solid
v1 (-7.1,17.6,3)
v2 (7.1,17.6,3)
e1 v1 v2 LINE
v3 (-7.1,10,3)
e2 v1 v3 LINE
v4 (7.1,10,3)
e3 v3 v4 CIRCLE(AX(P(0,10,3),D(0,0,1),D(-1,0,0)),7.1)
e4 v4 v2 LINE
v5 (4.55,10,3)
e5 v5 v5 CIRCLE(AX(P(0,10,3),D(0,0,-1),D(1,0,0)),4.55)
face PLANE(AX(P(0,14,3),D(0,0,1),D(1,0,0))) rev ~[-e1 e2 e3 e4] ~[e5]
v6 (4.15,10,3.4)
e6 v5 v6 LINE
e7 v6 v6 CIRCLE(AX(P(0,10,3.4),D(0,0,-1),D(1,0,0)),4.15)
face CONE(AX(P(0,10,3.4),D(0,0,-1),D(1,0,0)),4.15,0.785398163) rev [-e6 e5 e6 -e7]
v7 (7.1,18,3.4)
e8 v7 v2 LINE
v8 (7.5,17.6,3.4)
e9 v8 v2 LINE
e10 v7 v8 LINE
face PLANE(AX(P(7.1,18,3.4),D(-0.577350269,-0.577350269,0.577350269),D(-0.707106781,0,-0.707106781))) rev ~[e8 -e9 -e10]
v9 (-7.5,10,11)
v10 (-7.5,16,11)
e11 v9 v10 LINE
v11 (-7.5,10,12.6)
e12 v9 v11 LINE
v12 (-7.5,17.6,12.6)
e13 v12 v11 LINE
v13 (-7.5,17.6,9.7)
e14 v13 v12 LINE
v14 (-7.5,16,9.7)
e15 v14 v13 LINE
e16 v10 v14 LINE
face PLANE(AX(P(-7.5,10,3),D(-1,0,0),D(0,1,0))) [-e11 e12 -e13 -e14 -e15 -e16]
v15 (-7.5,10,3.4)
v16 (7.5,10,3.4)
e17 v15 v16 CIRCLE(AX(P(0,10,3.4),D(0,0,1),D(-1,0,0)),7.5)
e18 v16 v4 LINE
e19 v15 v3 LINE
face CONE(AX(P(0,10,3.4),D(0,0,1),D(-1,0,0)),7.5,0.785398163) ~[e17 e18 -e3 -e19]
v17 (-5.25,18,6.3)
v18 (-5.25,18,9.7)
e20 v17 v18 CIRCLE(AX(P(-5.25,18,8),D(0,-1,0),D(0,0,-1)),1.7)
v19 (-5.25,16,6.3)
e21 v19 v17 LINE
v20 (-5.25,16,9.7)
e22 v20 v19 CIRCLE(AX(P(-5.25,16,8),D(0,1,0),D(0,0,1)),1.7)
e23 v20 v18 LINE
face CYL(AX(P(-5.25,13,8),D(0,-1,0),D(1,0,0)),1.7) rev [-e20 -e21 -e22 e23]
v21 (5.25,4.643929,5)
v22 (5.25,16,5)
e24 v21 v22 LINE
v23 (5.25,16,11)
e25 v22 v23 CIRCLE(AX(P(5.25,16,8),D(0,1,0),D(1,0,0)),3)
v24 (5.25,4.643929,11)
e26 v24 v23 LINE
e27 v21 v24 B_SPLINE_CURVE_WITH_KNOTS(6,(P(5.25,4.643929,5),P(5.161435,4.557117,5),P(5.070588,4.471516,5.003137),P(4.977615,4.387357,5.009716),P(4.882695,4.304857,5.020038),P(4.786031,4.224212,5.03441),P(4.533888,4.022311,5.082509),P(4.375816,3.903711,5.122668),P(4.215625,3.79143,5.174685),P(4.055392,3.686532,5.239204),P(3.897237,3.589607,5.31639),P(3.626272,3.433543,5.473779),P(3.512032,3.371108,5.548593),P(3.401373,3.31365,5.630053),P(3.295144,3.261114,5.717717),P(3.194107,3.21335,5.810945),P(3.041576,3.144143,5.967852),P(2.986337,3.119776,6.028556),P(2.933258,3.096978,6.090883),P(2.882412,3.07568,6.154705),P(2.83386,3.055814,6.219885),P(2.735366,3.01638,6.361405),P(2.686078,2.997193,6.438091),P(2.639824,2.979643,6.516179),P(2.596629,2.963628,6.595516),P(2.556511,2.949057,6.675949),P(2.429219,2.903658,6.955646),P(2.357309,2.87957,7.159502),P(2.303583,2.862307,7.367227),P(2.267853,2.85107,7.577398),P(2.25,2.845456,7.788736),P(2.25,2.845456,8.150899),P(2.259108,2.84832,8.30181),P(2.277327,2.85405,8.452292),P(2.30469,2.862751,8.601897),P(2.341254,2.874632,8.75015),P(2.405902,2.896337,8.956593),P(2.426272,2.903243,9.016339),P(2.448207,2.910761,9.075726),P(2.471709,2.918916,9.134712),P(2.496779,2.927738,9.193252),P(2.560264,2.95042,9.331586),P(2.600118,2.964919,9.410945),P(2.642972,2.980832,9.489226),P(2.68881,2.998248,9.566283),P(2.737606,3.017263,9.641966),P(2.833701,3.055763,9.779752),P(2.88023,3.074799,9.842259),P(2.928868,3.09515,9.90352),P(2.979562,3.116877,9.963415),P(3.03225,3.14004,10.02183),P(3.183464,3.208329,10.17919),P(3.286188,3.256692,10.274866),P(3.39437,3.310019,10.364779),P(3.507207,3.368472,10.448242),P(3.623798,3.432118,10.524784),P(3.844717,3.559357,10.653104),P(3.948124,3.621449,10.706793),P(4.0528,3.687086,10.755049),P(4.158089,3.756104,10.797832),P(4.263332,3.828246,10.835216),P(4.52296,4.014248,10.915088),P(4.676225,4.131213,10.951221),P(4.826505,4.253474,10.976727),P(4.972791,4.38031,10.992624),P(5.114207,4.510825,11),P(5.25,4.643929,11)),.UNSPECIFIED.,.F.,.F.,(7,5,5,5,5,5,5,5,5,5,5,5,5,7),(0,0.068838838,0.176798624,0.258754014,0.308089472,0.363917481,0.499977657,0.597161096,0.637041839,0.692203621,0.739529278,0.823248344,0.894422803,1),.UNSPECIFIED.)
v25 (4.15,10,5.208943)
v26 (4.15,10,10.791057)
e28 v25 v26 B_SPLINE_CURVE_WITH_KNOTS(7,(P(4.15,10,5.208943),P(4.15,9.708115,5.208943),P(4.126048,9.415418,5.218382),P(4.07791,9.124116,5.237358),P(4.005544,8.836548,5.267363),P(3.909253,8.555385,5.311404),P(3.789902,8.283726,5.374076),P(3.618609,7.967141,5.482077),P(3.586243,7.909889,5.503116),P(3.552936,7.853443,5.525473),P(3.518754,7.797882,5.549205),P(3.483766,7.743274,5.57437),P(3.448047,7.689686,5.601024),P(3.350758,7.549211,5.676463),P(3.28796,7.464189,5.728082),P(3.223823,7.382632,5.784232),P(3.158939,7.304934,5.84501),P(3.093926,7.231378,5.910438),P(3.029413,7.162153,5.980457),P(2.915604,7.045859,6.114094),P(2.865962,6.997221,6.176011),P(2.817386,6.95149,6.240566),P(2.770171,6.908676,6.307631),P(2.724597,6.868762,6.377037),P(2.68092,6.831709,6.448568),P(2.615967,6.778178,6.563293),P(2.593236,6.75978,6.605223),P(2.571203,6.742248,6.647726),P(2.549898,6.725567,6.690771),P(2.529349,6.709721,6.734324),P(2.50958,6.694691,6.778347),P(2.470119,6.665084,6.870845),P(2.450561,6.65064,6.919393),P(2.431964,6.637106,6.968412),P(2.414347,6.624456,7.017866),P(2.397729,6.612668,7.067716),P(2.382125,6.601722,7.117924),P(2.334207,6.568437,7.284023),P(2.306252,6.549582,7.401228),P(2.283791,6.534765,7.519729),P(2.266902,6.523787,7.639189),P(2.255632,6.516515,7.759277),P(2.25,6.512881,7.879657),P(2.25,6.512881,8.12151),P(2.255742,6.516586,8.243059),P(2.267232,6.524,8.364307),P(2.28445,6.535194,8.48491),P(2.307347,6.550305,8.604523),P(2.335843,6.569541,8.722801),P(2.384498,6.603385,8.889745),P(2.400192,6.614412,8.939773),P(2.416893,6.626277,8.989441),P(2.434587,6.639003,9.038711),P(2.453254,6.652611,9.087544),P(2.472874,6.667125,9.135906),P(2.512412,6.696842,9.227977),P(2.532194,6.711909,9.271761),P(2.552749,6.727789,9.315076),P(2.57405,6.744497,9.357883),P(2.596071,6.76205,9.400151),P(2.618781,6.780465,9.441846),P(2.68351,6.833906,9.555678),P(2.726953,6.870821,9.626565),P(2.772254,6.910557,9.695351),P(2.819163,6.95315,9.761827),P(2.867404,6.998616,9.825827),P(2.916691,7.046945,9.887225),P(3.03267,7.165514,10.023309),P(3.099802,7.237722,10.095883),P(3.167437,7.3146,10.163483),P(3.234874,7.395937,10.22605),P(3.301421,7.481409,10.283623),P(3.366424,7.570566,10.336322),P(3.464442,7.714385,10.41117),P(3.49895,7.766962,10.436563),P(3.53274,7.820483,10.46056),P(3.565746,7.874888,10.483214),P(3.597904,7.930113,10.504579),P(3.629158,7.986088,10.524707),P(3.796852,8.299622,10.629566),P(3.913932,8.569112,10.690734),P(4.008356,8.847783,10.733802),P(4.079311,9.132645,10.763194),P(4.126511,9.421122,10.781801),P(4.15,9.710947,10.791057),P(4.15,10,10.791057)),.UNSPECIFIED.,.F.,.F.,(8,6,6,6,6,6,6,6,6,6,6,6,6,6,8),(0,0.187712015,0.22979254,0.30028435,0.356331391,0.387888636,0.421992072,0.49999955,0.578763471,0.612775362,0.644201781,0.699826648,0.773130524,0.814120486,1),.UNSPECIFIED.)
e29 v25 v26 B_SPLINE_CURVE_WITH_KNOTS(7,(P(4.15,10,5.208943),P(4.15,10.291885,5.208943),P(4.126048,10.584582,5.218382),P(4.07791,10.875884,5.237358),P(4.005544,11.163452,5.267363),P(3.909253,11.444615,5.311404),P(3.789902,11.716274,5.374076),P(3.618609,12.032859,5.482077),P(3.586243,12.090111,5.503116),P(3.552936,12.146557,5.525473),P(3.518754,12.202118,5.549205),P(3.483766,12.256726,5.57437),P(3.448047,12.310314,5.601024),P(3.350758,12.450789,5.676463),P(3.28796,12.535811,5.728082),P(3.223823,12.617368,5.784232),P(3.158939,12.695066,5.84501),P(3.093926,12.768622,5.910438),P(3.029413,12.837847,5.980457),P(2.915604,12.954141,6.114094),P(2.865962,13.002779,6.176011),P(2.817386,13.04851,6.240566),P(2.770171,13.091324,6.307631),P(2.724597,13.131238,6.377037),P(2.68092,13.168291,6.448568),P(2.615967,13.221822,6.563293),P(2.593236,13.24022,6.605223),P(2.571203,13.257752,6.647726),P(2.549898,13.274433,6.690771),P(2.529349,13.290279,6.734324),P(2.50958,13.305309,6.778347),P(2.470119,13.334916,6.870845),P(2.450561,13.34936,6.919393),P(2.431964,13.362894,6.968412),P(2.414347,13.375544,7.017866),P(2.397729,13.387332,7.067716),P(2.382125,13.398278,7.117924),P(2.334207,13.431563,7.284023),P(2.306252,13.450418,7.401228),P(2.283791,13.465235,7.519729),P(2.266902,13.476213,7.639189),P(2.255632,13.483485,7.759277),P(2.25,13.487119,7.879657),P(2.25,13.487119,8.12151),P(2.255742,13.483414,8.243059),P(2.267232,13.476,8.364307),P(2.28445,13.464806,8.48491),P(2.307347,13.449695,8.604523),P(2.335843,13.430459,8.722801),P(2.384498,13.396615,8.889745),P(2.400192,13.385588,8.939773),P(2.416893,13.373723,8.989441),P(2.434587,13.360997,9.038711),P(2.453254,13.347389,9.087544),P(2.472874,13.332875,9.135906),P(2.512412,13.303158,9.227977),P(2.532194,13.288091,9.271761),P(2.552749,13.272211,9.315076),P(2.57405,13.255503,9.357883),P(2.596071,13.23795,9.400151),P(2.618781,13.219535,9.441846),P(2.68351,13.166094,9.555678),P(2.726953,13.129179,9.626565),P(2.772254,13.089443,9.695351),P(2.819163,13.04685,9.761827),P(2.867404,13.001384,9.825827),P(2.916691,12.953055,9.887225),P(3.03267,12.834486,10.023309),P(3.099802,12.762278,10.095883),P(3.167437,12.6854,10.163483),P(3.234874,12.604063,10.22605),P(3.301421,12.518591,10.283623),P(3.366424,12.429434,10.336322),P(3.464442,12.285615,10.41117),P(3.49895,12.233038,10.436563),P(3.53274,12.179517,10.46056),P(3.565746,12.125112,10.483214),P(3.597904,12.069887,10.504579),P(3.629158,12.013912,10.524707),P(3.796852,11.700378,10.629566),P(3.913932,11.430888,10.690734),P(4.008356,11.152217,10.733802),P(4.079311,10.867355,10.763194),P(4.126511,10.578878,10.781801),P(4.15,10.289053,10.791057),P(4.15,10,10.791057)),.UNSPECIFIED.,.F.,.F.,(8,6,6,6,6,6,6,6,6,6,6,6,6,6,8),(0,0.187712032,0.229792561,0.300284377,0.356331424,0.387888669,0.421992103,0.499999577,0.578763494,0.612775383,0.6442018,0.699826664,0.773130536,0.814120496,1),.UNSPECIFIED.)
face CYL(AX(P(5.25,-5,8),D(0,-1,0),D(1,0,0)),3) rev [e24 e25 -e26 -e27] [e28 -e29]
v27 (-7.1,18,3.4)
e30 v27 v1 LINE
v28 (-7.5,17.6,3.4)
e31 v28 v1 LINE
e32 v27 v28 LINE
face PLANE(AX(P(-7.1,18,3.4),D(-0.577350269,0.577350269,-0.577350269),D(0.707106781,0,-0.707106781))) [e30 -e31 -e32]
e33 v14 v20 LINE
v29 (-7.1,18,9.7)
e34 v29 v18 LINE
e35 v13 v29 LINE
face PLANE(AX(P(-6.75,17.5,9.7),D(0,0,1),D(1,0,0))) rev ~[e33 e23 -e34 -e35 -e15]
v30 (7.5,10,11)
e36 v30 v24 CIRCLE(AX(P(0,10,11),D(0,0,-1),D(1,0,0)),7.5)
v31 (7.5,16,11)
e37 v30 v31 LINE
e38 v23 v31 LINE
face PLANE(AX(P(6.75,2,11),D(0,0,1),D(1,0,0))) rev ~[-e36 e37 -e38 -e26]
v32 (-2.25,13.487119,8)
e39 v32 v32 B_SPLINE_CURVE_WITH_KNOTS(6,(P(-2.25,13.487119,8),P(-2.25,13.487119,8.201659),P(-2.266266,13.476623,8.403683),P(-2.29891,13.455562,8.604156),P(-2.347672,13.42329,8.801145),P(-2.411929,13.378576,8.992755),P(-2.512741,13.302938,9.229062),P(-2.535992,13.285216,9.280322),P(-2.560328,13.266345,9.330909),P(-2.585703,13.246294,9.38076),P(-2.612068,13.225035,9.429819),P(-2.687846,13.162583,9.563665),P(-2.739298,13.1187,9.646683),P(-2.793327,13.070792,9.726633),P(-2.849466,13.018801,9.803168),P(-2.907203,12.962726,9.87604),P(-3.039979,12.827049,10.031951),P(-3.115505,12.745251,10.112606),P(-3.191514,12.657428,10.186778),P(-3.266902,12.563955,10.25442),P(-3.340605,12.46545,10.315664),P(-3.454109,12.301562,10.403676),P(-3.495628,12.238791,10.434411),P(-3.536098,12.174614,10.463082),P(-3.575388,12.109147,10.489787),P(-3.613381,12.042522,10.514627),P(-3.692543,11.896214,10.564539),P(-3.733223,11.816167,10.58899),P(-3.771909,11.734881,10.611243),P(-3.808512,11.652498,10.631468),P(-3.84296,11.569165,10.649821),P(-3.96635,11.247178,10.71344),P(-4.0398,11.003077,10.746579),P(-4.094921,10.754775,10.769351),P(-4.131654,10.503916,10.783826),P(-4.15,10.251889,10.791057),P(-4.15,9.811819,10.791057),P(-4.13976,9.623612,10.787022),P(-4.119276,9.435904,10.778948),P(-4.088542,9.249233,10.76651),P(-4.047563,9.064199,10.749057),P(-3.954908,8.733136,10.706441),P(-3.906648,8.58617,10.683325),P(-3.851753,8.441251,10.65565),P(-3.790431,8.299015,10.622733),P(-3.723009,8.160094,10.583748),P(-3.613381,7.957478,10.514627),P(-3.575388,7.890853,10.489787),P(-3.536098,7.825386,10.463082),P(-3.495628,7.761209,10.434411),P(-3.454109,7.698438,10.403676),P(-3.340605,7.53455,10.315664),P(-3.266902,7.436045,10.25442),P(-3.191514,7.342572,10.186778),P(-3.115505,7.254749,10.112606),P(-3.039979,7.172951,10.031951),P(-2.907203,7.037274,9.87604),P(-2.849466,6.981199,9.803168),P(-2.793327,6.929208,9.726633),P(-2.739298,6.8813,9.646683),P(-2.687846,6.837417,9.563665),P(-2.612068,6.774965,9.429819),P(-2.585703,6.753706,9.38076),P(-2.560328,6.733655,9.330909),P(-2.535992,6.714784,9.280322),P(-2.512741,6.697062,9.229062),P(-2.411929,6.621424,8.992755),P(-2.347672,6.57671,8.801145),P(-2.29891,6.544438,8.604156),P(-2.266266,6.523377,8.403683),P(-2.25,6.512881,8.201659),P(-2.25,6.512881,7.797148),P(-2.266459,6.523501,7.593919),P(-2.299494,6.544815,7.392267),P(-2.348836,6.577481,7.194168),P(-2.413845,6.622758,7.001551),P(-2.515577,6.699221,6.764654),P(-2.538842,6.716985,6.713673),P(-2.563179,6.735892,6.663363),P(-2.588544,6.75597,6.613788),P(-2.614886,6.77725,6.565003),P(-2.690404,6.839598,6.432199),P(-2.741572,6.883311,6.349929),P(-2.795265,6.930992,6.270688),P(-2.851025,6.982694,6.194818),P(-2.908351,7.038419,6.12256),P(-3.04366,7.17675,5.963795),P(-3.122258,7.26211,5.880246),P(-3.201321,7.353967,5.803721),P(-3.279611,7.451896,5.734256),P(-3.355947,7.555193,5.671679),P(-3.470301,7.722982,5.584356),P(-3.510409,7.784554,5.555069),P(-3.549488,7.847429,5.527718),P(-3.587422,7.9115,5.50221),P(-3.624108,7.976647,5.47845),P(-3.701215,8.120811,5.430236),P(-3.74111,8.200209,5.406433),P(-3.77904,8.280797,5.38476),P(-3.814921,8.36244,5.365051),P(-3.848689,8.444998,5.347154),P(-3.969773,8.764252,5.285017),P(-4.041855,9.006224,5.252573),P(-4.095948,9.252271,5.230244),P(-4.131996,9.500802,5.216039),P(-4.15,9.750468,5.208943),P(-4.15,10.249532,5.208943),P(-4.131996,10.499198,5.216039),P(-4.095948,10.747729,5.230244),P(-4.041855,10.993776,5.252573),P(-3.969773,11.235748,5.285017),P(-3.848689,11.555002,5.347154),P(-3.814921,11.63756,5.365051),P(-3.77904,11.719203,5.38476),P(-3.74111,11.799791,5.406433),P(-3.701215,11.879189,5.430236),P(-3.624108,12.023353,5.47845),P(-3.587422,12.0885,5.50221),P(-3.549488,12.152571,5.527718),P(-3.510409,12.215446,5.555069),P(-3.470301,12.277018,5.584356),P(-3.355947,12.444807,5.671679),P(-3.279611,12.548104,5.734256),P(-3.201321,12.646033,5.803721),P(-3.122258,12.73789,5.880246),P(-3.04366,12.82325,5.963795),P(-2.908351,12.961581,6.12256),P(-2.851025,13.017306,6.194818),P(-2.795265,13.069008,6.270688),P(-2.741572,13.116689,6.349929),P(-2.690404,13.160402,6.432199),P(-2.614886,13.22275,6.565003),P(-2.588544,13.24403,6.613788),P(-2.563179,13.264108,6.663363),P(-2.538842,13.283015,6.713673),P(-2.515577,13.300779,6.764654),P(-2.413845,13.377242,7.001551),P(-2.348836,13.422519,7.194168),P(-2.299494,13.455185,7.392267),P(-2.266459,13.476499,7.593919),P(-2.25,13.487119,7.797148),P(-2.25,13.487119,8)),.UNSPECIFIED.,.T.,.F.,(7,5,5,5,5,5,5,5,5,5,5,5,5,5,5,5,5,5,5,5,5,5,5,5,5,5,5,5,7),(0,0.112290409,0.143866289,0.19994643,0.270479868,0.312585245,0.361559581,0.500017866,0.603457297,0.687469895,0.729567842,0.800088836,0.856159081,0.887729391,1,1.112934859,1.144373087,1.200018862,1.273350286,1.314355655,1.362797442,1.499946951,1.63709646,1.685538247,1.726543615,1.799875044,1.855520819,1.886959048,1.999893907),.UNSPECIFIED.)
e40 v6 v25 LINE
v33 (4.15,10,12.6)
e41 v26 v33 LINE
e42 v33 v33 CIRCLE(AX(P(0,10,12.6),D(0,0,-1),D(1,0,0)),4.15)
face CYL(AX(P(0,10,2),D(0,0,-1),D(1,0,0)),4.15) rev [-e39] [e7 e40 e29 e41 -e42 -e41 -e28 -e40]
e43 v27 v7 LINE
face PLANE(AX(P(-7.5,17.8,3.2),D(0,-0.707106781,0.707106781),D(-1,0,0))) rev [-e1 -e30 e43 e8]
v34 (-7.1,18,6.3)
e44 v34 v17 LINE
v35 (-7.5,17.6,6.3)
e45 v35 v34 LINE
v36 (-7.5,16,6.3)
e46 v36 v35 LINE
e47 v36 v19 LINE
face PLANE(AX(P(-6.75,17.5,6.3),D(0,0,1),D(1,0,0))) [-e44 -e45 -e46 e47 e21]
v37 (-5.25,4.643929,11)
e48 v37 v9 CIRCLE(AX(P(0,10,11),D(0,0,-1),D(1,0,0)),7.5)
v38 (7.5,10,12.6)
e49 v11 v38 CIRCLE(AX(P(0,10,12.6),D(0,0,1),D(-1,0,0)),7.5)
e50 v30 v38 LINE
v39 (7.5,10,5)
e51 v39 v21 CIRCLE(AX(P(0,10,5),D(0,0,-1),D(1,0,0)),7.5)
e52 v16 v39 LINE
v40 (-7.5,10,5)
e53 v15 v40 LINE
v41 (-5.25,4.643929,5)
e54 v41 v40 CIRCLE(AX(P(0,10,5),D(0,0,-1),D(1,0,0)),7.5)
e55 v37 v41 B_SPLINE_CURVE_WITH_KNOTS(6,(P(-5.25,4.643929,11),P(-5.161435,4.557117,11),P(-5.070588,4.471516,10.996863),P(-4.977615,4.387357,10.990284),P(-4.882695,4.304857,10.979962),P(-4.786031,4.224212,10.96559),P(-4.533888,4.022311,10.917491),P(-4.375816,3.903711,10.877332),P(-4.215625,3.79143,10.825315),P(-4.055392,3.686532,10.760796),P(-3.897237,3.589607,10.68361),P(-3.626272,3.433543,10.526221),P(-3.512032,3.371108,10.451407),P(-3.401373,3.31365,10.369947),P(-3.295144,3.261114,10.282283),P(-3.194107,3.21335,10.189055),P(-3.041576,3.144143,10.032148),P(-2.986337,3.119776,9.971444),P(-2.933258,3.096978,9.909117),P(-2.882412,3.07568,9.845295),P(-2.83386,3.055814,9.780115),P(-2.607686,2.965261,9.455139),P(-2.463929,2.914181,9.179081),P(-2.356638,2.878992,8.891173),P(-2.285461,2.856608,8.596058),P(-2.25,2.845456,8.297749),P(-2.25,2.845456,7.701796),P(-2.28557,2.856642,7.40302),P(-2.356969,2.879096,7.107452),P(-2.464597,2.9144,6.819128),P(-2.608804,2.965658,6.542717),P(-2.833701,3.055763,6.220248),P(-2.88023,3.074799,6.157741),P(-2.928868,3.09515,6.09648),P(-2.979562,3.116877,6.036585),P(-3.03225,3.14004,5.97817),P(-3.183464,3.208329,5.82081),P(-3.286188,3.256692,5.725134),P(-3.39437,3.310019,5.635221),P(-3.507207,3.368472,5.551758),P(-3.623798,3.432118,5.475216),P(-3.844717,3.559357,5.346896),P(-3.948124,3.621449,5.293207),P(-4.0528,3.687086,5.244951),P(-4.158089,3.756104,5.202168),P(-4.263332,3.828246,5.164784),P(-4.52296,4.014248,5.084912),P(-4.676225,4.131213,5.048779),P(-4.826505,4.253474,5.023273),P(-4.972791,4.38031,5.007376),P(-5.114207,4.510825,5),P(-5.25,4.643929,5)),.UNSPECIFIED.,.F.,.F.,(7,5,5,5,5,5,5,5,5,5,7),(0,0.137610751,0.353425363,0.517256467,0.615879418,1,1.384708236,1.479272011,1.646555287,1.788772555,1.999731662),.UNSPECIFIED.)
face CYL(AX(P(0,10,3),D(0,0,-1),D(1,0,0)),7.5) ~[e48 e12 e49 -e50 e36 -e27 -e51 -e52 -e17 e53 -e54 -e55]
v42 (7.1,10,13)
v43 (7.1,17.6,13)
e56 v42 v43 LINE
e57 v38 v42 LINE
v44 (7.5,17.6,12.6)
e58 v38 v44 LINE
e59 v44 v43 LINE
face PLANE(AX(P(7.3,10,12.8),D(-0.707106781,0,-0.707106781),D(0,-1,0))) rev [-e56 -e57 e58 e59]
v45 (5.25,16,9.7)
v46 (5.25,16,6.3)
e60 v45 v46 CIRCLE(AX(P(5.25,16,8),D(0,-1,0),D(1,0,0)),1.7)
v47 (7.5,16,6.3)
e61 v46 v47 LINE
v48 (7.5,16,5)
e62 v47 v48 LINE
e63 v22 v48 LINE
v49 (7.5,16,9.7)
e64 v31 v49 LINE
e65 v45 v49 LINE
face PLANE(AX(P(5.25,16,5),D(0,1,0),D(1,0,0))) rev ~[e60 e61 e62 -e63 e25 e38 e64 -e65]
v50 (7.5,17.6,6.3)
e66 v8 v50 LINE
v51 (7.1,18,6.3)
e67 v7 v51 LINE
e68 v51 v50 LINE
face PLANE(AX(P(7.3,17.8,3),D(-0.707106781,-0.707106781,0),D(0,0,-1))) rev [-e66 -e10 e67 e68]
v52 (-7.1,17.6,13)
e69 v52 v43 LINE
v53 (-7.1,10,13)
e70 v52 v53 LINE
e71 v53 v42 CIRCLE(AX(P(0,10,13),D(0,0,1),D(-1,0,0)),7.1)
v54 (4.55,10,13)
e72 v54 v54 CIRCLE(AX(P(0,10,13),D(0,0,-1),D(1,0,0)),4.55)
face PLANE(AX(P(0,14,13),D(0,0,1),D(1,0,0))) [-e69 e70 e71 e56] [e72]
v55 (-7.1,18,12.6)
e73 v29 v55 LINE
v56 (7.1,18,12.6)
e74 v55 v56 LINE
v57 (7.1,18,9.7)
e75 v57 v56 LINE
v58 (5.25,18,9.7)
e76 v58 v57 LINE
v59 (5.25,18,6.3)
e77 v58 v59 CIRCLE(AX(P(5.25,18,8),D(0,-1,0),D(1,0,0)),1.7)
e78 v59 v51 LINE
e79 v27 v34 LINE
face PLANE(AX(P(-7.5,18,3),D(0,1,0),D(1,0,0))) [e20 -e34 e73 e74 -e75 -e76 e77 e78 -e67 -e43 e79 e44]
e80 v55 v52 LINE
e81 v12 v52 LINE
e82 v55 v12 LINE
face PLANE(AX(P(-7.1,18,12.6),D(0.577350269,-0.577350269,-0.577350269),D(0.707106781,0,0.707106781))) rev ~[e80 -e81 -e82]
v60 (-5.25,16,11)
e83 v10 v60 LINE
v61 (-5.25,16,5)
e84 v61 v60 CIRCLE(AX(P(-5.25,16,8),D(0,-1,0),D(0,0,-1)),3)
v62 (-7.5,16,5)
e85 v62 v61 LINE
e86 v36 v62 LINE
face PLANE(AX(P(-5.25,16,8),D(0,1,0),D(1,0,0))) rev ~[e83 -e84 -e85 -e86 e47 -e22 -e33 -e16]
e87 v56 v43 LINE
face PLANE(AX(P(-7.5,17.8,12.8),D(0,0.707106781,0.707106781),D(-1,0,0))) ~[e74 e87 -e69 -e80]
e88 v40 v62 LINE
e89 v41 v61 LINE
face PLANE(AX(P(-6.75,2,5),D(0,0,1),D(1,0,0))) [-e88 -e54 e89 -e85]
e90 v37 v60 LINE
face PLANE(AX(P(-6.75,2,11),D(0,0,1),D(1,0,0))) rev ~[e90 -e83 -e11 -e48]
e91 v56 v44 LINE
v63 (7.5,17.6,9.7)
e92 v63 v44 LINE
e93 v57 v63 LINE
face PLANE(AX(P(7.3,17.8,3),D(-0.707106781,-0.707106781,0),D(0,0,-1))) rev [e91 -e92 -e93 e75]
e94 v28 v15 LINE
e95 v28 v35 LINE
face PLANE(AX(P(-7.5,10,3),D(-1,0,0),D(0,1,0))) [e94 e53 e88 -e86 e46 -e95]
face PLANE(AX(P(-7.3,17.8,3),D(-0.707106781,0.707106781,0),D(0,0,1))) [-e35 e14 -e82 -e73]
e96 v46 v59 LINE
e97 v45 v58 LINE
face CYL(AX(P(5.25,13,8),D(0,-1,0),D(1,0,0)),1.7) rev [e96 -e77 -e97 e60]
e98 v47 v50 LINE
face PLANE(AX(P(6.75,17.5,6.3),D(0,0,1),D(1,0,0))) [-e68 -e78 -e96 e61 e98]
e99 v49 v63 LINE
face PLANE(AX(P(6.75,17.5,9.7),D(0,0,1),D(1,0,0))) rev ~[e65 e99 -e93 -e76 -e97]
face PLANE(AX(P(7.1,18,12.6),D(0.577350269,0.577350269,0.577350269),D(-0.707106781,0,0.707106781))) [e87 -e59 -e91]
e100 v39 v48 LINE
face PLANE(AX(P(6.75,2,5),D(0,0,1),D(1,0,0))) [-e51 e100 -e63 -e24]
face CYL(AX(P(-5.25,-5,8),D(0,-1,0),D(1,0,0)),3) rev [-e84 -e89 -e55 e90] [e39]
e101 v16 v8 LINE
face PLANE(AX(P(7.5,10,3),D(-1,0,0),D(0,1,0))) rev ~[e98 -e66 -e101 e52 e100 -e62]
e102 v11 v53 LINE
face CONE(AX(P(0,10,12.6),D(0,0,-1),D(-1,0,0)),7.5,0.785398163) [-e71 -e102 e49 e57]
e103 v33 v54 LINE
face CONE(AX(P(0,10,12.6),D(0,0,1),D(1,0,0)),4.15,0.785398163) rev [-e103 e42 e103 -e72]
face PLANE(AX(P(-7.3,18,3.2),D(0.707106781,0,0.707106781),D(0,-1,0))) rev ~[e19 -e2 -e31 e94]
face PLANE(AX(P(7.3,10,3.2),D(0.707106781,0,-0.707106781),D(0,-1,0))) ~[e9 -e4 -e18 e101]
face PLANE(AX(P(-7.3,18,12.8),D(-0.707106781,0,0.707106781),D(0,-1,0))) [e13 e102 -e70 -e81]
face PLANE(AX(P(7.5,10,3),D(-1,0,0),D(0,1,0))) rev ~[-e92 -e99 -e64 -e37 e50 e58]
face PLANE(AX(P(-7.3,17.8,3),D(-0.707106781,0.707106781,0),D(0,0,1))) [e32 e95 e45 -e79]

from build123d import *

# Parameters (mm, degrees)
CYLINDER006_R      = 4.15
CYLINDER006_DEPTH  = 13
CYLINDER008_R      = 2
CYLINDER008_DEPTH  = 15
CYLINDER009_R      = 2
CYLINDER009_DEPTH  = 15
CYLINDER010_R      = 1.7
CYLINDER010_DEPTH  = 7
CYLINDER011_R      = 1.7
CYLINDER011_DEPTH  = 7
BOX007_W           = 3
BOX007_H           = 3
BOX007_DEPTH       = 3.4
BOX008_W           = 3
BOX008_H           = 3
BOX008_DEPTH       = 3.4
CYLINDER013_R      = 3
CYLINDER013_DEPTH  = 21
CYLINDER012_R      = 3
CYLINDER012_DEPTH  = 21
BOX005_W           = 3
BOX005_H           = 28
BOX005_DEPTH       = 6
BOX006_W           = 3
BOX006_H           = 28
BOX006_DEPTH       = 6
BOX004_W           = 15
BOX004_H           = 8
BOX004_DEPTH       = 10
CYLINDER007_R      = 7.5
CYLINDER007_DEPTH  = 10
CHAMFER_SIZE       = 0.4
CHAMFER008016_SIZE = 0.4


with BuildPart() as cylinder006:
    # Cylinder006 → Cylinder006 (new body)
    with BuildSketch(Plane.XY.offset(-1)):
        Circle(CYLINDER006_R)
    extrude(amount=CYLINDER006_DEPTH)


with BuildPart() as cylinder008:
    # Cylinder008 → Cylinder008 (new body)
    with BuildSketch(Plane(origin=(-5.25, -10, 5), x_dir=(1, 0, 0), z_dir=(0, 1, 0))):
        Circle(CYLINDER008_R)
    extrude(amount=CYLINDER008_DEPTH)


with BuildPart() as cylinder009:
    # Cylinder009 → Cylinder009 (new body)
    with BuildSketch(Plane(origin=(5.25, -10, 5), x_dir=(1, 0, 0), z_dir=(0, 1, 0))):
        Circle(CYLINDER009_R)
    extrude(amount=CYLINDER009_DEPTH)


with BuildPart() as cylinder010:
    # Cylinder010 → Cylinder010 (new body)
    with BuildSketch(Plane(origin=(5.25, 4, 5), x_dir=(1, 0, 0), z_dir=(0, 1, 0))):
        Circle(CYLINDER010_R)
    extrude(amount=CYLINDER010_DEPTH)


with BuildPart() as cylinder011:
    # Cylinder011 → Cylinder011 (new body)
    with BuildSketch(Plane(origin=(-5.25, 4, 5), x_dir=(1, 0, 0), z_dir=(0, 1, 0))):
        Circle(CYLINDER011_R)
    extrude(amount=CYLINDER011_DEPTH)


with BuildPart() as cube007:
    # Box007 → Box007 (new body)
    with BuildSketch(Plane(origin=(-8.25, 7, 3.3), x_dir=(1, 0, 0), z_dir=(0, 0, 1))):
        with Locations((1.5, 1.5)):
            Rectangle(BOX007_W, BOX007_H)
    extrude(amount=BOX007_DEPTH)


with BuildPart() as fusion036012039011002025018010_body:
    # Box008 → Box008 (new body)
    with BuildSketch(Plane(origin=(5.25, 7, 3.3), x_dir=(1, 0, 0), z_dir=(0, 0, 1))):
        with Locations((1.5, 1.5)):
            Rectangle(BOX008_W, BOX008_H)
    extrude(amount=BOX008_DEPTH)

    # Fusion036012039011002025018010003004005022009: union Cylinder008, Cylinder009, Cylinder010, Cylinder011, Cube007
    add(cylinder008.part)
    add(cylinder009.part)
    add(cylinder010.part)
    add(cylinder011.part)
    add(cube007.part)


with BuildPart() as fusion036012039011002025018010_body_1:
    # Fusion036012039011002025018010003004005022009 placement: moved
    add(fusion036012039011002025018010_body.part.moved(Location((0, -1, 0))))


with BuildPart() as cylinder013:
    # Cylinder013 → Cylinder013 (new body)
    with BuildSketch(Plane(origin=(5.25, 4, 5), x_dir=(1, 0, 0), z_dir=(0, 1, 0))):
        Circle(CYLINDER013_R)
    extrude(amount=CYLINDER013_DEPTH)


with BuildPart() as fusion036012039011002025018010_body2:
    # Cylinder012 → Cylinder012 (new body)
    with BuildSketch(Plane(origin=(-5.25, 4, 5), x_dir=(1, 0, 0), z_dir=(0, 1, 0))):
        Circle(CYLINDER012_R)
    extrude(amount=CYLINDER012_DEPTH)

    # Fusion036012039011002025018010003004005022005: union Cylinder013
    add(cylinder013.part)


with BuildPart() as fusion036012039011002025018010_body2_1:
    # Fusion036012039011002025018010003004005022005 placement: moved
    add(fusion036012039011002025018010_body2.part.moved(Location((0, -18, 0))))


with BuildPart() as cube005:
    # Box005 → Box005 (new body)
    with BuildSketch(Plane(origin=(5.25, 4, 2), x_dir=(1, 0, 0), z_dir=(0, 0, 1))):
        with Locations((1.5, 14)):
            Rectangle(BOX005_W, BOX005_H)
    extrude(amount=BOX005_DEPTH)


with BuildPart() as fusion036012039011002025018010_body3:
    # Box006 → Box006 (new body)
    with BuildSketch(Plane(origin=(-8.25, 4, 2), x_dir=(1, 0, 0), z_dir=(0, 0, 1))):
        with Locations((1.5, 14)):
            Rectangle(BOX006_W, BOX006_H)
    extrude(amount=BOX006_DEPTH)

    # Fusion036012039011002025018010003004005022006: union Cube005
    add(cube005.part)


with BuildPart() as fusion036012039011002025018010_body3_1:
    # Fusion036012039011002025018010003004005022006 placement: moved
    add(fusion036012039011002025018010_body3.part.moved(Location((0, -25, 0))))

    # Fusion036012039011002025018010003004005022010: union Fusion036012039011002025018010 body2
    add(fusion036012039011002025018010_body2_1.part)


with BuildPart() as fusion036012039011002025018010_body3_2:
    # Fusion036012039011002025018010003004005022010 placement: moved
    add(fusion036012039011002025018010_body3_1.part.moved(Location((0, -1, 0))))


with BuildPart() as cube004:
    # Box004 → Box004 (new body)
    with BuildSketch(Plane(origin=(-7.5, 0, 0), x_dir=(1, 0, 0), z_dir=(0, 0, 1))):
        with Locations((7.5, 4)):
            Rectangle(BOX004_W, BOX004_H)
    extrude(amount=BOX004_DEPTH)


with BuildPart() as m8_probe_mount:
    # Cylinder007 → Cylinder007 (new body)
    with BuildSketch(Plane.XY):
        Circle(CYLINDER007_R)
    extrude(amount=CYLINDER007_DEPTH)

    # Fusion036012039011002025018010003004005022011: union Cube004
    add(cube004.part)

    # Chamfer
    chamfer_edges = [m8_probe_mount.edges().sort_by_distance(p)[0] for p in [
        (0, -7.5, 0),
        (0, -7.5, 10),
        (7.5, 4, 10),
        (7.5, 8, 5),
        (7.5, 4, 0),
        (-7.5, 4, 10),
        (-7.5, 8, 5),
        (-7.5, 4, 0),
        (0, 8, 10),
        (0, 8, 0),
    ]]
    chamfer(chamfer_edges, length=CHAMFER_SIZE)

    # Cut001007049: cut Fusion036012039011002025018010 body3
    add(fusion036012039011002025018010_body3_2.part, mode=Mode.SUBTRACT)

    # Cut001007050: cut Fusion036012039011002025018010 body
    add(fusion036012039011002025018010_body_1.part, mode=Mode.SUBTRACT)

    # Cut001007051: cut Cylinder006
    add(cylinder006.part, mode=Mode.SUBTRACT)

    # Chamfer008016
    chamfer008016_edges = [m8_probe_mount.edges().sort_by_distance(p)[0] for p in [
        (0, -4.15, 0),
        (0, 4.15, 10),
        (0, -4.15, 10),
        (0, 4.15, 0),
    ]]
    chamfer(chamfer008016_edges, length=CHAMFER008016_SIZE)


with BuildPart() as m8_probe_mount_1:
    # Chamfer008016 placement: moved
    add(m8_probe_mount.part.moved(Location((0, 10, 3))))


solid = m8_probe_mount_1.part
